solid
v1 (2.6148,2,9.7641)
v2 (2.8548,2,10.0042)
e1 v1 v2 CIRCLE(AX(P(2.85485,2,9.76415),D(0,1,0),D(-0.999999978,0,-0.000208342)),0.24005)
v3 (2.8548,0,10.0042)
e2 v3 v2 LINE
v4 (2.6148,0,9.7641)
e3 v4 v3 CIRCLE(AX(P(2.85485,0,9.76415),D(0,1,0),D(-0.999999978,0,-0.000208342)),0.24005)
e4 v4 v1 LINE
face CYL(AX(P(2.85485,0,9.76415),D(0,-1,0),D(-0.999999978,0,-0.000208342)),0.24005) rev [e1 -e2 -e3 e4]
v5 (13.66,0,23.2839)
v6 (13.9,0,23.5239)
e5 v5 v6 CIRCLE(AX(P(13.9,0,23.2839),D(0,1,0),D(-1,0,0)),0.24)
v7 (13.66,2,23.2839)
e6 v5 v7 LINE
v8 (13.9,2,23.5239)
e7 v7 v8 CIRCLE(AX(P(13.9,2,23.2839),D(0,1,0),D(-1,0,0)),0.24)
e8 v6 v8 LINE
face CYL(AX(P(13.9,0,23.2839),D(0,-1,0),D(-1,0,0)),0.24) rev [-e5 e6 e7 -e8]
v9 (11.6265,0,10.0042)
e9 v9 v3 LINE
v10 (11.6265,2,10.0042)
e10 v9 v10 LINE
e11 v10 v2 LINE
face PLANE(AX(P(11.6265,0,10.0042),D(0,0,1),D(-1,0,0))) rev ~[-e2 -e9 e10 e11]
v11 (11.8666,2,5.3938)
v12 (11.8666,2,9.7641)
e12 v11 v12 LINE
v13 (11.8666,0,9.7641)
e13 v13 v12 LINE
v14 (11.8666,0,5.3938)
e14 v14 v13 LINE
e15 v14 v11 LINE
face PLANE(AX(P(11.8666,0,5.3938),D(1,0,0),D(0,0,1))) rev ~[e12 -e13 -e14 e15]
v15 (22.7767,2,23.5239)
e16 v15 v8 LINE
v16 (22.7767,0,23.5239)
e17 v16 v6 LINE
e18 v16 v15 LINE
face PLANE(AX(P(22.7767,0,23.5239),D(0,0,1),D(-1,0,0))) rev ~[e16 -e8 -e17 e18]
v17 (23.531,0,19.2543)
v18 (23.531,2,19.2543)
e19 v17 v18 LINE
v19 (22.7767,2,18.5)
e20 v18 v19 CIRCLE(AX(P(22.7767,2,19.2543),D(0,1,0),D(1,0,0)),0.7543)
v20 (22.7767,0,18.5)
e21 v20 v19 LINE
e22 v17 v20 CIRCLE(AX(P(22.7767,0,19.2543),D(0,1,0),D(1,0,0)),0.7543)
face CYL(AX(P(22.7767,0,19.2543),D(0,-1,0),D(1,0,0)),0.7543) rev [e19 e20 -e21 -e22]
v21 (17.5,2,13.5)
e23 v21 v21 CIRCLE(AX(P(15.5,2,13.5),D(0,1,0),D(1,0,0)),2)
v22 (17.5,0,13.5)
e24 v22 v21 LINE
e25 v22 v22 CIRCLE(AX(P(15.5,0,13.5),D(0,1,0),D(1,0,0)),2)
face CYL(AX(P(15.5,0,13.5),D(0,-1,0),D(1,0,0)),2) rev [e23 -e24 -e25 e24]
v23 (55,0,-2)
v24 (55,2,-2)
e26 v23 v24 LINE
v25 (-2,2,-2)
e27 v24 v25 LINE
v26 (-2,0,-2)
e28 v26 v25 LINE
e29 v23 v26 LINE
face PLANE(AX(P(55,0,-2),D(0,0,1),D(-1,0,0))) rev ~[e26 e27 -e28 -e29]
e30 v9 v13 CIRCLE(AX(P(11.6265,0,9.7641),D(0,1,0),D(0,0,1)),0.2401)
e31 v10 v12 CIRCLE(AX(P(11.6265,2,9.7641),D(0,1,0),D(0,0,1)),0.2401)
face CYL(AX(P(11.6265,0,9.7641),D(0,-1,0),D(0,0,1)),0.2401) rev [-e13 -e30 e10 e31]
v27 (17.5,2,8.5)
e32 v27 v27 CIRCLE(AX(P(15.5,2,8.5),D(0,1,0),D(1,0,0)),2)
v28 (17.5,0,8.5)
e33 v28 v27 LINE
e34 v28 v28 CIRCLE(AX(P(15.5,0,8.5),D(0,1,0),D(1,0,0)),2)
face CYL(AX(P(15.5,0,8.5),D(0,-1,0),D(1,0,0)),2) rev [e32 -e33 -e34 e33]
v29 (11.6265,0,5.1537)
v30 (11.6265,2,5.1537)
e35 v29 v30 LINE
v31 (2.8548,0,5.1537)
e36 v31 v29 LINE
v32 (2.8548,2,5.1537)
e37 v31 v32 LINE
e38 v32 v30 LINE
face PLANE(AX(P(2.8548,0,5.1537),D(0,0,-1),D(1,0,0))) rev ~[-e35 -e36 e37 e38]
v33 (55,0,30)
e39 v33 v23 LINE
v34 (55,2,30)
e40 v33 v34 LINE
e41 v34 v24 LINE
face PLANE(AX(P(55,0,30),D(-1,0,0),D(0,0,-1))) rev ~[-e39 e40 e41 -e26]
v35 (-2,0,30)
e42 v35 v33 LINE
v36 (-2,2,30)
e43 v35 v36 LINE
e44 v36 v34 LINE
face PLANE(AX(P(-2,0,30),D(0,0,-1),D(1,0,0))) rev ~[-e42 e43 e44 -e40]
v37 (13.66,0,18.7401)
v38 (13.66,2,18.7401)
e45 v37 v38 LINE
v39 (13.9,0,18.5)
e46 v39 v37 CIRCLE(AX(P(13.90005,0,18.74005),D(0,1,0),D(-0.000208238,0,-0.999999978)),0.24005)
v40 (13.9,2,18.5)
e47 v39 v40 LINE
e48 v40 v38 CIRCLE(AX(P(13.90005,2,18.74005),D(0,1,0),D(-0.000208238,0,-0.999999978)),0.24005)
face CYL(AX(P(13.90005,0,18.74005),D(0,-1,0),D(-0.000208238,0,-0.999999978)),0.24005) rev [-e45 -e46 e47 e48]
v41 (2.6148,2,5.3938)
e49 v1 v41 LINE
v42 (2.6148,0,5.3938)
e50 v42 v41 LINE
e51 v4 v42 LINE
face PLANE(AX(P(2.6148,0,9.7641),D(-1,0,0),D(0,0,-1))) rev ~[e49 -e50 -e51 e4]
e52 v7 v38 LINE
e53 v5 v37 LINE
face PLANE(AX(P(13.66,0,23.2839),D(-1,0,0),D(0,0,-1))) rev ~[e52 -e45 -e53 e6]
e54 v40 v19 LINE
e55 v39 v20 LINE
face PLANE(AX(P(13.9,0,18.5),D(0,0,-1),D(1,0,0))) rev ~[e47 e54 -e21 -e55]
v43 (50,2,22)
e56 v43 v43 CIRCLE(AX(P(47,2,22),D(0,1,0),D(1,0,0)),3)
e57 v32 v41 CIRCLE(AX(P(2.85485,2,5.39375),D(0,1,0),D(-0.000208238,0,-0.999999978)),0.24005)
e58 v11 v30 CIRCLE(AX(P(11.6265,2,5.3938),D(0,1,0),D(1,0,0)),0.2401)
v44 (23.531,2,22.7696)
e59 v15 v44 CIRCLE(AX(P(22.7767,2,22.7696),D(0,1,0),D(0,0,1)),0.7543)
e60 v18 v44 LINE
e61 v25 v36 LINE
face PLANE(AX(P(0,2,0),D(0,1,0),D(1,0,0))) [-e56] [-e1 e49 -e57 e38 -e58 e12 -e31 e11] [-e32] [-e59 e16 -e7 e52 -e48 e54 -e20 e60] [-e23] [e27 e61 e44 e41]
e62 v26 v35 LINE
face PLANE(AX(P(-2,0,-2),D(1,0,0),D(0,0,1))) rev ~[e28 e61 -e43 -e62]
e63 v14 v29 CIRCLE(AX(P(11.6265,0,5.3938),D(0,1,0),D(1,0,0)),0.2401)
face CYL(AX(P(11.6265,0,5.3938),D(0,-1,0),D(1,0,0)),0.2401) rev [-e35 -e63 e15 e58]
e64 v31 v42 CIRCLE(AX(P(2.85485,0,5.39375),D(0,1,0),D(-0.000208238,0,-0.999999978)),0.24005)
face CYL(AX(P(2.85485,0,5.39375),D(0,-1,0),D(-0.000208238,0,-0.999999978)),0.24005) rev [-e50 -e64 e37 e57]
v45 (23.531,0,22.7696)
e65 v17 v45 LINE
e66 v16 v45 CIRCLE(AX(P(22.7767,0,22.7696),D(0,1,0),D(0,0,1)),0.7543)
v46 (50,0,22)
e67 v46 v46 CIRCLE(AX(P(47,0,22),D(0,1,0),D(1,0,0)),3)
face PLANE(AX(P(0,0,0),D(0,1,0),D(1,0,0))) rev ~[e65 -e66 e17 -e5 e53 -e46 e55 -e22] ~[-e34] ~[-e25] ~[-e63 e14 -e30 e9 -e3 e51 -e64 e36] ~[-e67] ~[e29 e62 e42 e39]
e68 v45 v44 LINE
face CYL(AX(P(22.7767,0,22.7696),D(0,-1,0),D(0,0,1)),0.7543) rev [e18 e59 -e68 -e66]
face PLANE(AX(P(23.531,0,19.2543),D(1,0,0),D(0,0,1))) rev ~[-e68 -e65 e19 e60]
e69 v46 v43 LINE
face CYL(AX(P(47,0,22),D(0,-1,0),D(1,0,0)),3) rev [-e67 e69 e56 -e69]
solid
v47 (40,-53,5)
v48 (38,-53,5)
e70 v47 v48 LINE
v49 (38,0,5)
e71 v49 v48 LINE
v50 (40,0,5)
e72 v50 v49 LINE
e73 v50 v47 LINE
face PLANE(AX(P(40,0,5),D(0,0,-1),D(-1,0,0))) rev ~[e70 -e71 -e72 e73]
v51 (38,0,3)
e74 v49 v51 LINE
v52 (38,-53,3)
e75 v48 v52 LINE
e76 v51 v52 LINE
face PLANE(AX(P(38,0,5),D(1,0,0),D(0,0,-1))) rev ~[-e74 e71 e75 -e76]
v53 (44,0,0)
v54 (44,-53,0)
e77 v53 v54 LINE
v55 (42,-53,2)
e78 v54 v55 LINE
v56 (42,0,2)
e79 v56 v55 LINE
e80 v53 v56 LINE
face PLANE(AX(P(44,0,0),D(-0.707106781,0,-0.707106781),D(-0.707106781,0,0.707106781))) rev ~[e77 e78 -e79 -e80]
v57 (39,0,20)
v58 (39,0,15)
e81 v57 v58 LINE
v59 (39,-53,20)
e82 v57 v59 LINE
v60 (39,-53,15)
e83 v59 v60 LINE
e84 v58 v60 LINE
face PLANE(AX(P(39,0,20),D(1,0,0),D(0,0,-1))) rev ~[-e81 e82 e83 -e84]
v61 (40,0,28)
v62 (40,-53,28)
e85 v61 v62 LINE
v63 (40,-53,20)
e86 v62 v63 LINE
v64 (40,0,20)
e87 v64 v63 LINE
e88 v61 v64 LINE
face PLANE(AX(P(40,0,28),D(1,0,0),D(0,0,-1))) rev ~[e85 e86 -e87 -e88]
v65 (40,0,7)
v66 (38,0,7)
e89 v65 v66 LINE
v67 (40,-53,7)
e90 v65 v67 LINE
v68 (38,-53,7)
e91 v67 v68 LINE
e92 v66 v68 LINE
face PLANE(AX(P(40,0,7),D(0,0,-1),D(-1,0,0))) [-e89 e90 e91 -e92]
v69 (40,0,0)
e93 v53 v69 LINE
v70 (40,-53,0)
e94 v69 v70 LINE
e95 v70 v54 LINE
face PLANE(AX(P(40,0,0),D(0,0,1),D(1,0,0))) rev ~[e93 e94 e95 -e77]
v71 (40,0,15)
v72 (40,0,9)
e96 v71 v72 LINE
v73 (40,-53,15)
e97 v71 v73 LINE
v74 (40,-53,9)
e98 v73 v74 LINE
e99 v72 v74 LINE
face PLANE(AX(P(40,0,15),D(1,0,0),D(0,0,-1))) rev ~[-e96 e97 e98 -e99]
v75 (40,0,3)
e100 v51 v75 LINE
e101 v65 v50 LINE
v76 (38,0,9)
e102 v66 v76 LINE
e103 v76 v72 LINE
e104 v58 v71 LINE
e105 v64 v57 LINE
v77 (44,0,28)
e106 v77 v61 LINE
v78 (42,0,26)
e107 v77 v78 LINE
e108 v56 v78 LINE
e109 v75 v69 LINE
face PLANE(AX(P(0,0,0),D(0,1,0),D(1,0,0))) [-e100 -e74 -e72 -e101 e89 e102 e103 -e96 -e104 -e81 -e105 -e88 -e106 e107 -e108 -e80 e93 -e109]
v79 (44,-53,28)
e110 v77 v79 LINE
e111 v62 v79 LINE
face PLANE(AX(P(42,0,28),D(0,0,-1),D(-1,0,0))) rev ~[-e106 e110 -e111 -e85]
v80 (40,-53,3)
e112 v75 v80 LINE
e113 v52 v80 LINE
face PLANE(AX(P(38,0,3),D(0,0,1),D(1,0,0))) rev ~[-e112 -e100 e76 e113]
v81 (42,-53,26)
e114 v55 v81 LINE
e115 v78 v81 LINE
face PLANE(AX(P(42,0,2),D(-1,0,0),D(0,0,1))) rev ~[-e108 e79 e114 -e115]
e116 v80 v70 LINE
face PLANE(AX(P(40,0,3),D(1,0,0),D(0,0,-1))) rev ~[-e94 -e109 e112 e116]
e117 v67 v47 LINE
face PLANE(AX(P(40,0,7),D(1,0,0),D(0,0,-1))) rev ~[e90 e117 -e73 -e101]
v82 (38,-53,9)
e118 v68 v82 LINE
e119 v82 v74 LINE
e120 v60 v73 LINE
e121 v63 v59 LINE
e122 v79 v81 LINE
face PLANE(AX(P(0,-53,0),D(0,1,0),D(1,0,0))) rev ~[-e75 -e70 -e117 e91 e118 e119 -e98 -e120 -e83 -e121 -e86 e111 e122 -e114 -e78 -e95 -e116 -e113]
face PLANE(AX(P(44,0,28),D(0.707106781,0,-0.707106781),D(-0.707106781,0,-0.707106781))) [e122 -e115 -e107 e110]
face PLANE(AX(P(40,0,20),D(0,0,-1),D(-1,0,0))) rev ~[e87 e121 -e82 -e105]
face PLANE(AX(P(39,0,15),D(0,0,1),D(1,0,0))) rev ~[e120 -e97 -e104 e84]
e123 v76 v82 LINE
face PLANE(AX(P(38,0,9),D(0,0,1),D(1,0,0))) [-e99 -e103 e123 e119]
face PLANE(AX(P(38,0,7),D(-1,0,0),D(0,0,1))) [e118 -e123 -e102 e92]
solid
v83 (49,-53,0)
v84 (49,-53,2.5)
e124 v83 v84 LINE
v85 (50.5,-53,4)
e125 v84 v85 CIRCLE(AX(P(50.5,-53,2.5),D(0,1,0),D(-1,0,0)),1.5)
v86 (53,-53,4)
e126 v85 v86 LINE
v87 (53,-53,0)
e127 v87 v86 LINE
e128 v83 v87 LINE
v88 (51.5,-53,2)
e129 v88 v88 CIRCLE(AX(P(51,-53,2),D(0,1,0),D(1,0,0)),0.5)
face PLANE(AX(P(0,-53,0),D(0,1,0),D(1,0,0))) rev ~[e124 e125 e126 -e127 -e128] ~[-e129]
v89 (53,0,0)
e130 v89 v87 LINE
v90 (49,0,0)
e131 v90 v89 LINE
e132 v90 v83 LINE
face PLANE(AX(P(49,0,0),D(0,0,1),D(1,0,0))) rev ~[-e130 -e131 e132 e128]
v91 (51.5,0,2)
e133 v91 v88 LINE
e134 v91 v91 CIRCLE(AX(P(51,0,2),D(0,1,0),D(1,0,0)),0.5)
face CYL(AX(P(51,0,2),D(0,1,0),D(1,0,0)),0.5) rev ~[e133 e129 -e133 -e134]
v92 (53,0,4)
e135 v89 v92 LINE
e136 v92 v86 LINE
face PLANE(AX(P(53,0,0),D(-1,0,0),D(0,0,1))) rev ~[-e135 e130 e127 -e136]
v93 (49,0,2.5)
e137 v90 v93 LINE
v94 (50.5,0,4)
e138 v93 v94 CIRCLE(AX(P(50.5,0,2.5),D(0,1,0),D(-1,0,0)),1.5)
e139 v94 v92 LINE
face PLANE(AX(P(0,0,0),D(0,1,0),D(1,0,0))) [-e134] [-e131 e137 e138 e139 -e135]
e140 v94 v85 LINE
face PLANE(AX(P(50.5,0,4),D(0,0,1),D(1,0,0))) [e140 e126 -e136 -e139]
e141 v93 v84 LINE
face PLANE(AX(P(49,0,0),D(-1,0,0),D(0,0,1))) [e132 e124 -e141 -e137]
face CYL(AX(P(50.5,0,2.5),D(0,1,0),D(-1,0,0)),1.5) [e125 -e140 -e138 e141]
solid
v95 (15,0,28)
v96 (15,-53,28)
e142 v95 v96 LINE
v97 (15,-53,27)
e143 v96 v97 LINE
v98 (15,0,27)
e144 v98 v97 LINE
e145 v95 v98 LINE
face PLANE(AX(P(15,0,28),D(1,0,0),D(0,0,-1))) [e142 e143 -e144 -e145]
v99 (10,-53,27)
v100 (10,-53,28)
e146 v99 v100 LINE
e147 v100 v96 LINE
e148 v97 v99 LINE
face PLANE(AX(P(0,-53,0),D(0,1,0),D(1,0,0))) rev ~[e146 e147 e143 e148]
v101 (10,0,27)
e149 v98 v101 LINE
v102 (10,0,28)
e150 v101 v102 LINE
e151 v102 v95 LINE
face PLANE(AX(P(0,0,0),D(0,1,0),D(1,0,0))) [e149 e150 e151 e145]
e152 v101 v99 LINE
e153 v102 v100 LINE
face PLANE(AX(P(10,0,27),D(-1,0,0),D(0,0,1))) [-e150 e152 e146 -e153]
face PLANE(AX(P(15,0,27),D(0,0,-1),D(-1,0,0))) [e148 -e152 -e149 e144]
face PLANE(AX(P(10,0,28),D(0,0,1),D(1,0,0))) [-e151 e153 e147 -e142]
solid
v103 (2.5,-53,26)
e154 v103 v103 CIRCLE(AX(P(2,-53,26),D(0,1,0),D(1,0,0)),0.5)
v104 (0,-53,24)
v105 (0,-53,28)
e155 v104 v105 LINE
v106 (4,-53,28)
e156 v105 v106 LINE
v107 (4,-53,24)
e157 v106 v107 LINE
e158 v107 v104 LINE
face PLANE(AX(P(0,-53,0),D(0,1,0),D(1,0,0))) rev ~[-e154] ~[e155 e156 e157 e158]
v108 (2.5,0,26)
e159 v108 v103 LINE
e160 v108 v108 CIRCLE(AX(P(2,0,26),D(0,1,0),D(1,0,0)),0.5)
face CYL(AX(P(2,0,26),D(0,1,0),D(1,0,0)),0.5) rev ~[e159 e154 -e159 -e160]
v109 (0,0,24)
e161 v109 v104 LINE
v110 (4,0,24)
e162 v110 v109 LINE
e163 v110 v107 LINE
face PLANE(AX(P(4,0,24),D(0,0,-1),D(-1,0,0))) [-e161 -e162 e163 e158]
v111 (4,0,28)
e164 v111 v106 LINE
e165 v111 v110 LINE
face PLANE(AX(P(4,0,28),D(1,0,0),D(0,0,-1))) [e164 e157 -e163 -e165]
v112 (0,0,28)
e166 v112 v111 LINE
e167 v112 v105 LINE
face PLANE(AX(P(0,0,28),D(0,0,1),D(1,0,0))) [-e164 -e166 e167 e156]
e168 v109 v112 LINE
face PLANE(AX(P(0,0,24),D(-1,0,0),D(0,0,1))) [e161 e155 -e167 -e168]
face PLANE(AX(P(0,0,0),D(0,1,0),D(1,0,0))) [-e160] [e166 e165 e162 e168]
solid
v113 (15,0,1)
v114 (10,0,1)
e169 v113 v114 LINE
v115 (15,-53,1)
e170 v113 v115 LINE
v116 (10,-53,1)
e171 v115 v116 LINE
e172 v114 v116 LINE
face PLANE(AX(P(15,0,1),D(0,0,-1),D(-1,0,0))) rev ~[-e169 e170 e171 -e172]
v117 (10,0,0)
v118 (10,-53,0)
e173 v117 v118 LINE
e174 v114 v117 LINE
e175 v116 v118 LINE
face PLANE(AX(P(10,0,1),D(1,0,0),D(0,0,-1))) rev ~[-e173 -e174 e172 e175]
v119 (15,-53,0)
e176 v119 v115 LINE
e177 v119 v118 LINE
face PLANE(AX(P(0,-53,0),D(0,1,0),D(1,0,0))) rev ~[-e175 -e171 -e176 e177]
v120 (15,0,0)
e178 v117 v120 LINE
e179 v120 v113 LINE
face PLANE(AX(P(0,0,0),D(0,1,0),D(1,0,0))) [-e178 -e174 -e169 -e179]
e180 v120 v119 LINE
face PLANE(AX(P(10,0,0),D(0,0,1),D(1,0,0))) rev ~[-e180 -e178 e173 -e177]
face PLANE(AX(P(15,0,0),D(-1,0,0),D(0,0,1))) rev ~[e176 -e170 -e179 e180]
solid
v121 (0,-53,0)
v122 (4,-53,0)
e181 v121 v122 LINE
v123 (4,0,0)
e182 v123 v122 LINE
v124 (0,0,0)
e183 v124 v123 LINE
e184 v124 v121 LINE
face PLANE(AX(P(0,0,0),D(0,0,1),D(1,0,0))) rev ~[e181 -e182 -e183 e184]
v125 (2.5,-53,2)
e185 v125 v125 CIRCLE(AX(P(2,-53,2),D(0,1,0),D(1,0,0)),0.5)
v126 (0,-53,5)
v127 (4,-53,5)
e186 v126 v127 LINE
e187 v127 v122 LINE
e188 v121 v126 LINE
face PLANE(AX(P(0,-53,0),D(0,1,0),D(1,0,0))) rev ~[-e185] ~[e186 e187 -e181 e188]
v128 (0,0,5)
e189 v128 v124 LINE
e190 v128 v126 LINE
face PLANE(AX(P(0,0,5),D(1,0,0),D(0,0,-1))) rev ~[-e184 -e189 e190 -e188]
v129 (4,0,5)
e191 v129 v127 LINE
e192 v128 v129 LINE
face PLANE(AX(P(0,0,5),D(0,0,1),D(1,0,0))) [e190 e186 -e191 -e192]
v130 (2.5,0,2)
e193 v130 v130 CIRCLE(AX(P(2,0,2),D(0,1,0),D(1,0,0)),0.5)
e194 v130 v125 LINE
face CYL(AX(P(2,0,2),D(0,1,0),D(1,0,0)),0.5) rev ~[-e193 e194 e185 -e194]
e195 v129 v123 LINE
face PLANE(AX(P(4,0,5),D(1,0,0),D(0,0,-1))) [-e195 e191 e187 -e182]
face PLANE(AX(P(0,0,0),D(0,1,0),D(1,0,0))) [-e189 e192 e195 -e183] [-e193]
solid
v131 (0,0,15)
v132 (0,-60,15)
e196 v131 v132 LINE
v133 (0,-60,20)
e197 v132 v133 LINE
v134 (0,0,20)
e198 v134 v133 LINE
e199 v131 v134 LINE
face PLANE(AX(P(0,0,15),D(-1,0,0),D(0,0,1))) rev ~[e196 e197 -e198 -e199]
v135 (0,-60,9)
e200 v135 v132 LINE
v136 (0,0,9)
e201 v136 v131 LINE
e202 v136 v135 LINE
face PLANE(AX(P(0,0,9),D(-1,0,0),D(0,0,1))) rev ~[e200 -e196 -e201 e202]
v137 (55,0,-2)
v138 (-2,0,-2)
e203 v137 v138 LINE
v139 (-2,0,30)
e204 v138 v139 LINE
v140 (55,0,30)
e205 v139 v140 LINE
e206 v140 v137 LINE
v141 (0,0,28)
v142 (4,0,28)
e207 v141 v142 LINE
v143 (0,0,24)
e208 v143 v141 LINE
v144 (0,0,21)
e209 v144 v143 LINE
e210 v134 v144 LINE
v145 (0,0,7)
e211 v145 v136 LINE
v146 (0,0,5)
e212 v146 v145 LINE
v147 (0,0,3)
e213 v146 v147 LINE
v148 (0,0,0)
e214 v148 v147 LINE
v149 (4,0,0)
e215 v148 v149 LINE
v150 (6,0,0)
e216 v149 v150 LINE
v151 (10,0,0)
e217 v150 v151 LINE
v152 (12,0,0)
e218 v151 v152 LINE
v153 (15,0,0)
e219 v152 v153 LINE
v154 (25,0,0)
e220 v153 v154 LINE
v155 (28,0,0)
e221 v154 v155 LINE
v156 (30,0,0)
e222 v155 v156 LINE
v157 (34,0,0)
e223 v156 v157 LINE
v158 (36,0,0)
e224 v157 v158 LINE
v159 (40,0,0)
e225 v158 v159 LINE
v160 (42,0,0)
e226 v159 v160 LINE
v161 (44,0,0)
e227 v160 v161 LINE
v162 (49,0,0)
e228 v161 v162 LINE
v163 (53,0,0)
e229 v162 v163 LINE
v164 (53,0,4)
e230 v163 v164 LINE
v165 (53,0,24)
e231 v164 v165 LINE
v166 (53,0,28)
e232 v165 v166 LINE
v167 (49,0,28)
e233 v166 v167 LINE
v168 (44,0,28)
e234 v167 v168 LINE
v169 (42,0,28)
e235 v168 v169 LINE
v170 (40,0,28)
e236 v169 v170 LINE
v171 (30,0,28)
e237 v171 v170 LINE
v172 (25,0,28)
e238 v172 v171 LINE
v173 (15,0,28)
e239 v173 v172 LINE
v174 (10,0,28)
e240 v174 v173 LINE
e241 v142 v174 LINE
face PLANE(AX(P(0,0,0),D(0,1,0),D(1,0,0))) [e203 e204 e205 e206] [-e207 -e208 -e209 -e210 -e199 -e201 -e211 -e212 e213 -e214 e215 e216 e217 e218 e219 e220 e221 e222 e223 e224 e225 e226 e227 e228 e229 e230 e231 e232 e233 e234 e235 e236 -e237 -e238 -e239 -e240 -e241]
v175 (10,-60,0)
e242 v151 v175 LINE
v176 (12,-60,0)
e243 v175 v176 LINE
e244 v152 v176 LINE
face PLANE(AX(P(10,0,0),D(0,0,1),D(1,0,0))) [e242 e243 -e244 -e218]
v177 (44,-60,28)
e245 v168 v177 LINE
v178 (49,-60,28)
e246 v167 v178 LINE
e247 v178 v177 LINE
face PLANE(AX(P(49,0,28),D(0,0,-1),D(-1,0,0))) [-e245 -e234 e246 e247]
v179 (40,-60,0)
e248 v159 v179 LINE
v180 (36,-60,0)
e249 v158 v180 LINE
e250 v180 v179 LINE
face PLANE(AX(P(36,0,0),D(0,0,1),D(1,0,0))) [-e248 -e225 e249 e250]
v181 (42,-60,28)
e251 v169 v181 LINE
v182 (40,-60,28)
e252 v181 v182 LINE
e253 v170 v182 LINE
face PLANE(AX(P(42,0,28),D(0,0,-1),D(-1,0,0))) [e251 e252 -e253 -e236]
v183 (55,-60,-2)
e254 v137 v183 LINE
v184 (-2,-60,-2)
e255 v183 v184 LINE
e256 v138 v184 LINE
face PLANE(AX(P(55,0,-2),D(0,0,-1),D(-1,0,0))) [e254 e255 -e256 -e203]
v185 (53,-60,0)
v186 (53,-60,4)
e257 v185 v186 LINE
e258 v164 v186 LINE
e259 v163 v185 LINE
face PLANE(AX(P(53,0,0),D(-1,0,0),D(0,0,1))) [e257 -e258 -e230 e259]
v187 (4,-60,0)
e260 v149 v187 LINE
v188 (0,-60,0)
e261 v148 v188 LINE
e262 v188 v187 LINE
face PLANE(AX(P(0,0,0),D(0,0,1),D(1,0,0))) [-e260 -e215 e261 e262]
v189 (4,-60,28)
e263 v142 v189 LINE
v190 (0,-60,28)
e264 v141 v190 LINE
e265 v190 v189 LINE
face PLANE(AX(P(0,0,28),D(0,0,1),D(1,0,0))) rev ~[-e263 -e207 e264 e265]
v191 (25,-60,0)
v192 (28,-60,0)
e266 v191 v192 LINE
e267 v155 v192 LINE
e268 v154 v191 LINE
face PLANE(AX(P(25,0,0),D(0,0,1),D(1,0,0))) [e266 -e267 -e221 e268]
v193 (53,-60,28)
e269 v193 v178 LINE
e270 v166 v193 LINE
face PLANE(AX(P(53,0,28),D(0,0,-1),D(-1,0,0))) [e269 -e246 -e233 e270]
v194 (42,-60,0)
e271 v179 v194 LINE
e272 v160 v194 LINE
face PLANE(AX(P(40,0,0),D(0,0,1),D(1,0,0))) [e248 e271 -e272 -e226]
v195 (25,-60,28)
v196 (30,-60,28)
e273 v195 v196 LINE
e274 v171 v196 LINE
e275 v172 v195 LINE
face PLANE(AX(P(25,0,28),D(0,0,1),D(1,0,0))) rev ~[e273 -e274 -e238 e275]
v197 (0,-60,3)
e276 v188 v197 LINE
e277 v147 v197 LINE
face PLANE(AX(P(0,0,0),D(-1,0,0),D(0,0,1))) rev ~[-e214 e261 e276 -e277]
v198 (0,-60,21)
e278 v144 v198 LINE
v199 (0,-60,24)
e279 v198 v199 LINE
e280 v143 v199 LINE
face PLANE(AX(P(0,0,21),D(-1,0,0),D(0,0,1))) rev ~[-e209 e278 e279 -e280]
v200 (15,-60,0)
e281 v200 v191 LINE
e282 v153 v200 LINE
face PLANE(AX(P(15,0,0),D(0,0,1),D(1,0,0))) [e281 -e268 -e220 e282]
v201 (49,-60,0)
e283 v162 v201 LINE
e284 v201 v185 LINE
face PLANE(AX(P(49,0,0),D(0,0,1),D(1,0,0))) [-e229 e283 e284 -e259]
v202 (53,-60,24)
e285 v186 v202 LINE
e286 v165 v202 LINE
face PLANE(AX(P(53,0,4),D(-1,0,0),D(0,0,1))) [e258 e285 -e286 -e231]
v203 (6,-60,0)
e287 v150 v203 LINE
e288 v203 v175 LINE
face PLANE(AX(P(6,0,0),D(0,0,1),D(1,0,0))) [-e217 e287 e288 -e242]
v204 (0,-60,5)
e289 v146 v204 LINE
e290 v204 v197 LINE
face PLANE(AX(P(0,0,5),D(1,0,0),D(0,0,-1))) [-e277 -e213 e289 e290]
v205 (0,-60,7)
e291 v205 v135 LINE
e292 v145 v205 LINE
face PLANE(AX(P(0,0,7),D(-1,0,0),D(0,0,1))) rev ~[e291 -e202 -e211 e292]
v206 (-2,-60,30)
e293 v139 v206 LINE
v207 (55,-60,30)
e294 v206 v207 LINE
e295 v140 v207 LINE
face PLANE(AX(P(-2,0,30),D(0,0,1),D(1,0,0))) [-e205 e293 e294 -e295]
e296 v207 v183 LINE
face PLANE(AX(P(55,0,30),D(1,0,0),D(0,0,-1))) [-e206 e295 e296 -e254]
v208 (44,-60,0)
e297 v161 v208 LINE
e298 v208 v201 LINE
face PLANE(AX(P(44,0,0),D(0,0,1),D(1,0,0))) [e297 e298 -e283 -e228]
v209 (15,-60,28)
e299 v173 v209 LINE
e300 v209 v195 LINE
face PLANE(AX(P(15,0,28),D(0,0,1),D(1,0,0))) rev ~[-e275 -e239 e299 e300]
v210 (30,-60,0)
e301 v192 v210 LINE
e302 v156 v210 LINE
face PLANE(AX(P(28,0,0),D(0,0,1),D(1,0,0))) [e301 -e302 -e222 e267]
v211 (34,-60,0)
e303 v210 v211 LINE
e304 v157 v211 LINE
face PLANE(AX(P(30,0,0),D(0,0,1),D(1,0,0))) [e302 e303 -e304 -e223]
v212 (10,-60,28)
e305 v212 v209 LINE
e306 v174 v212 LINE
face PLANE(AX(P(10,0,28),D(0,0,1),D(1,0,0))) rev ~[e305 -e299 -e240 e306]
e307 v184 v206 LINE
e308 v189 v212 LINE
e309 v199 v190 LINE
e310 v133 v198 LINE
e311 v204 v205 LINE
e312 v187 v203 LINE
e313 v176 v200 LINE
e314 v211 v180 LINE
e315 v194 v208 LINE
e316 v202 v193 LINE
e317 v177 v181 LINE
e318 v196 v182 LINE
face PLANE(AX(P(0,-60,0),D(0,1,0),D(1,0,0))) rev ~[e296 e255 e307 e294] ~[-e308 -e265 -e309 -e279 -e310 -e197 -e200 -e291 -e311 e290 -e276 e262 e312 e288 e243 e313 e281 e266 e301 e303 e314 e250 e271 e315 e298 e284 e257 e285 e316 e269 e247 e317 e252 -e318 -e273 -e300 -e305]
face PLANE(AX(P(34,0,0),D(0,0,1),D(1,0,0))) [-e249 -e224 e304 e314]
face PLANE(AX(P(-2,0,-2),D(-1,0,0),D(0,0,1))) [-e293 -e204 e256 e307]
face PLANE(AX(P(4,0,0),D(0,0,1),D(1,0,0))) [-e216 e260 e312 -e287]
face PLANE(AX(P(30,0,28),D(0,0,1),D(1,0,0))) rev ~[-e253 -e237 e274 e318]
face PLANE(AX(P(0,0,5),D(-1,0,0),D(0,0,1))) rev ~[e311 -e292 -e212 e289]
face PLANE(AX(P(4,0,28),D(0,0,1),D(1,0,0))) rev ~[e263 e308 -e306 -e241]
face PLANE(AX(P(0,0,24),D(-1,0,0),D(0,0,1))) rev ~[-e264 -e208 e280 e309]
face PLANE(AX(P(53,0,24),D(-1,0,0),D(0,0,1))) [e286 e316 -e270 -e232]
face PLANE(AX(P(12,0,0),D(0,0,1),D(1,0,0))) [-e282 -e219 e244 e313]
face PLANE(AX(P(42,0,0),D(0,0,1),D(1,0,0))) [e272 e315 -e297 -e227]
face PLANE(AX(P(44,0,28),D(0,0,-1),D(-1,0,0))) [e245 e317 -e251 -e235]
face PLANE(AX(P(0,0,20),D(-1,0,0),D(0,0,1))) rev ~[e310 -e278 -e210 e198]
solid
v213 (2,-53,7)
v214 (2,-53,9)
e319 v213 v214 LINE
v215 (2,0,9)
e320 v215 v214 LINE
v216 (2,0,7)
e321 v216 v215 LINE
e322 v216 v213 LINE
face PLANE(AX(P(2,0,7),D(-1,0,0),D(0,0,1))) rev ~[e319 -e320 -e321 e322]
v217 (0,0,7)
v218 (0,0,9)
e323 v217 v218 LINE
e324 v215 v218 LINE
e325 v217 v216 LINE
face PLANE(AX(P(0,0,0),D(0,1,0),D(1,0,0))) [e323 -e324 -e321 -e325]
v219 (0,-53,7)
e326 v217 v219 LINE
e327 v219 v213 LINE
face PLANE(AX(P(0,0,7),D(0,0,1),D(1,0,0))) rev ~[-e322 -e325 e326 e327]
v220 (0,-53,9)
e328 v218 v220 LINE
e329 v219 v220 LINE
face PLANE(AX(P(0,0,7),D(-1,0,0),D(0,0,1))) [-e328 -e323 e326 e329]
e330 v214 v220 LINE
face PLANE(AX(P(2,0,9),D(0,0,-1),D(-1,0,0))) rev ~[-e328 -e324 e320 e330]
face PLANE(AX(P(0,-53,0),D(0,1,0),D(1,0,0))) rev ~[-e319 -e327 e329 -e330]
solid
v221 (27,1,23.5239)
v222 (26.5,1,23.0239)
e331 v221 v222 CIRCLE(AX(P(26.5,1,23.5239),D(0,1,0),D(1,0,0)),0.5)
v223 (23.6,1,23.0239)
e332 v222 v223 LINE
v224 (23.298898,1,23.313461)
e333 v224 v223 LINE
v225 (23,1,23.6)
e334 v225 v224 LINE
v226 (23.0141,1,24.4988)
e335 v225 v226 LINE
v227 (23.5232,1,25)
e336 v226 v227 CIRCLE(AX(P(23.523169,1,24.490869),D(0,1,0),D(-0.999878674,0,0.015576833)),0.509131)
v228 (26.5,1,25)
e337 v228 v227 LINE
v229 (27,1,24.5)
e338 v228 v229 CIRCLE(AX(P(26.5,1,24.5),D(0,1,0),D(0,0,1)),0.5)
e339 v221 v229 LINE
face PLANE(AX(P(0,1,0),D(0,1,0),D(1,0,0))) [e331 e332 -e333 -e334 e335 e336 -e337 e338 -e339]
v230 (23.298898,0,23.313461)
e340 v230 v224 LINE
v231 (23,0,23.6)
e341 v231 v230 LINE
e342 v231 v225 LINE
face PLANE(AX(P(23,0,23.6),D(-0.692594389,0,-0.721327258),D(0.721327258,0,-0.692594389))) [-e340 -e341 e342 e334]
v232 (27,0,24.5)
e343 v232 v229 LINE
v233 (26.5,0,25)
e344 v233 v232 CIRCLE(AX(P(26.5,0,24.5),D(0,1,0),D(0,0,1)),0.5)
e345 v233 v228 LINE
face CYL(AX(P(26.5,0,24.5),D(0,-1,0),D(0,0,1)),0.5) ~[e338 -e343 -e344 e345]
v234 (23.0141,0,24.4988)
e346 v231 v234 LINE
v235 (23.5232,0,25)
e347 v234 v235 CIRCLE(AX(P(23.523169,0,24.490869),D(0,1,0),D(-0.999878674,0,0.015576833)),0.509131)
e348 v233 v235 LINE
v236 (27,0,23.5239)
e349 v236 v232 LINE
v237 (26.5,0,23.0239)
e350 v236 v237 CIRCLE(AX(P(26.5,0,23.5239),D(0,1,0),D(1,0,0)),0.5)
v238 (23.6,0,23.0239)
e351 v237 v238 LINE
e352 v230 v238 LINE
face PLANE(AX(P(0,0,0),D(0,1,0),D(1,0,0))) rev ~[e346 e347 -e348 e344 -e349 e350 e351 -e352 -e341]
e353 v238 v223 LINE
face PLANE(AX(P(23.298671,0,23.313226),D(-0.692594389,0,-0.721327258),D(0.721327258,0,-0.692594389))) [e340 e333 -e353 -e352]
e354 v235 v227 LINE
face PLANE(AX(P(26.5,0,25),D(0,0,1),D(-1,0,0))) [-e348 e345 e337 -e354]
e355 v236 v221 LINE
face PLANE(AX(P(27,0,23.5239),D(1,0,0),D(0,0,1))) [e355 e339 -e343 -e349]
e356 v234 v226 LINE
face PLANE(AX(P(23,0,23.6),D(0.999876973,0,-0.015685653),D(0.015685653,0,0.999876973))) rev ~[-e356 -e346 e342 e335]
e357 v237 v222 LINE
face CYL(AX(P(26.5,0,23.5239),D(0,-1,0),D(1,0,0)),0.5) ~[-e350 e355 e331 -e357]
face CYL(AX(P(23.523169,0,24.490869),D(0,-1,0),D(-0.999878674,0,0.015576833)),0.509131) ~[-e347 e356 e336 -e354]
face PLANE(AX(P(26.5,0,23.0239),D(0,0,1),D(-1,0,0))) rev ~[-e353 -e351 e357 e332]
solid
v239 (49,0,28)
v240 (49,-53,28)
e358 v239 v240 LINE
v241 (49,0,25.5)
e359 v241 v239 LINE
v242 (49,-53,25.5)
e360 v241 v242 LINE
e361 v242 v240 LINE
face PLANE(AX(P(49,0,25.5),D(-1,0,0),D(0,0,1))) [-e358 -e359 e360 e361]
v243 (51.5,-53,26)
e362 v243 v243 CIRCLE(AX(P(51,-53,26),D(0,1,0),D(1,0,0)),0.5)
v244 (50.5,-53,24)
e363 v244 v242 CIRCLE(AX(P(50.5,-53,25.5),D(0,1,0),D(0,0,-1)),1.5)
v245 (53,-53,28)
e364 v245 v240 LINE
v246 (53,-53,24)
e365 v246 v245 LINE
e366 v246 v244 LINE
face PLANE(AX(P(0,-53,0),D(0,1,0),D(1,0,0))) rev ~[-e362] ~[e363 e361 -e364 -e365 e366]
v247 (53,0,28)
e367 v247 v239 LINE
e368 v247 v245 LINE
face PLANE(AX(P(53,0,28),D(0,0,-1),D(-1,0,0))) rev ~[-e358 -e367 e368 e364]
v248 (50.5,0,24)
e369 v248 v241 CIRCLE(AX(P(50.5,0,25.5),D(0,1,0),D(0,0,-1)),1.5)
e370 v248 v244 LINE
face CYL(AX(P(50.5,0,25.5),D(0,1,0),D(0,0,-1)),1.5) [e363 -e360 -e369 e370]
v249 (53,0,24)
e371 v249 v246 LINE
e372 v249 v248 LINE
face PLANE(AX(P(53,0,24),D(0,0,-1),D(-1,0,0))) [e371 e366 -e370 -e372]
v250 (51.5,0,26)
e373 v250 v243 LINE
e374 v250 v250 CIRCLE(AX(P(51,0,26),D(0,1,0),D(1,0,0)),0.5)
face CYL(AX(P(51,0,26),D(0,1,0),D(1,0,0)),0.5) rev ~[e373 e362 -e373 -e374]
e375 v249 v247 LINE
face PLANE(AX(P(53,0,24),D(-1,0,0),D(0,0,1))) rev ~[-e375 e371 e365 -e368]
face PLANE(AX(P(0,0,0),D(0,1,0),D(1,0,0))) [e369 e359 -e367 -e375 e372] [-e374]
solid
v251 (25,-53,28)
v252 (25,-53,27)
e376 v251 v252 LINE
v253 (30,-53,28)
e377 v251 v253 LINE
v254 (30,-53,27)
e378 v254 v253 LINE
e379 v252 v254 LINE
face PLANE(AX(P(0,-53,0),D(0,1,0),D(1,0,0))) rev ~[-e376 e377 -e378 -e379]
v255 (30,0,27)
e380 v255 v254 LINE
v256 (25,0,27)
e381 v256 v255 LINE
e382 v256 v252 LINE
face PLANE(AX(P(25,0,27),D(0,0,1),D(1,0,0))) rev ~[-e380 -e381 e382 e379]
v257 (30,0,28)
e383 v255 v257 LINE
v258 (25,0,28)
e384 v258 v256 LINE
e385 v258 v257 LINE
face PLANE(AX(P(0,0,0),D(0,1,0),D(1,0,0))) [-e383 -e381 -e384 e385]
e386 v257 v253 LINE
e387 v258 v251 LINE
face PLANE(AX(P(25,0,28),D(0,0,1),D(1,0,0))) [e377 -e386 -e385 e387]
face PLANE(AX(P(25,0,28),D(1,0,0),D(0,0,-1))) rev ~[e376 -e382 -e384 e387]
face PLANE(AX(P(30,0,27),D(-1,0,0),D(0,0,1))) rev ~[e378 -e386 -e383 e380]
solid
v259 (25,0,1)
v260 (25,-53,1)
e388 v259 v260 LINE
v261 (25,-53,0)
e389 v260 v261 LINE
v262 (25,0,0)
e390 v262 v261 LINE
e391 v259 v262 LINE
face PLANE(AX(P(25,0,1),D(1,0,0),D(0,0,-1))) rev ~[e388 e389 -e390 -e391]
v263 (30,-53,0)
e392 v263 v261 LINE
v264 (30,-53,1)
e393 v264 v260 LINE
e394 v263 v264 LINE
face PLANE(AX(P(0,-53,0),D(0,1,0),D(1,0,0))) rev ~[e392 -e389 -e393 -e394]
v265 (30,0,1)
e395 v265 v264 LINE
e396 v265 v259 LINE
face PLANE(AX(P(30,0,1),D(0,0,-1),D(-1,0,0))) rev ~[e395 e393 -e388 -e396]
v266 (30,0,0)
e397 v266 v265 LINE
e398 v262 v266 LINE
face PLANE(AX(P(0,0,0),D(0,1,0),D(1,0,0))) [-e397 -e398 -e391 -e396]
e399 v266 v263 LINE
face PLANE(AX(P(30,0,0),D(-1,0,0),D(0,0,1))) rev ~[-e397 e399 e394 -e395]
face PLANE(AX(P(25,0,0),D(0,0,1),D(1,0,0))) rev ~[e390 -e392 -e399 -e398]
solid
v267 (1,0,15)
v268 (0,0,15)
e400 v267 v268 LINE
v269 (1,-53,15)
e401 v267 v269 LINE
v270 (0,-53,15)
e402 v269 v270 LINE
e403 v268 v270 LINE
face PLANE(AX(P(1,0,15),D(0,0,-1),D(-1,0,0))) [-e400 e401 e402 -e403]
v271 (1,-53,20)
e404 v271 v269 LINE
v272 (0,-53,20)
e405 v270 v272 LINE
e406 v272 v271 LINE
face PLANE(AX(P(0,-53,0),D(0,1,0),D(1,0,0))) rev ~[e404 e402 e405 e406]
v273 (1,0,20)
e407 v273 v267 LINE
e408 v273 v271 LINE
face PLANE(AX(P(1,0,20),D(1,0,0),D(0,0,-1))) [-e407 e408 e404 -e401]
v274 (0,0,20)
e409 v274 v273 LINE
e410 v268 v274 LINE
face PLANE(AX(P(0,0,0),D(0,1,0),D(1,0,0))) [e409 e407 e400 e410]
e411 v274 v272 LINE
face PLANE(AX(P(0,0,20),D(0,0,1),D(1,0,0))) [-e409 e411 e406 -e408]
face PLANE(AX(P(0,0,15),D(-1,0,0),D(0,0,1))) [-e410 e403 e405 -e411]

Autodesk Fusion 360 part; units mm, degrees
sketch "Esquisse1" plane through (0, 0, 0) normal (0, 1, 0) x (1, 0, 0)
  line L0 (0, -28) -> (40, -28)
  line L1 (40, -28) -> (40, 0)
  line L2 (40, 0) -> (42, 0)
  line L3 (42, 0) -> (42, -28)
  line L4 (42, -28) -> (40, -28)
  line L5 (40, -28) -> (40, 0)
  line L6 (42, 0) -> (53, 0)
  line L7 (53, 0) -> (53, -28)
  line L8 (53, -28) -> (42, -28)
  line L9 (42, -28) -> (42, 0)
  line L10 (12, 0) -> (15, 0)
  line L11 (25, 0) -> (28, 0)
  line L12 (10, -28) -> (15, -28)
  line L13 (15, -28) -> (15, -27)
  line L14 (15, -27) -> (10, -27)
  line L15 (10, -27) -> (10, -28)
  line L16 (30, -28) -> (25, -28)
  line L17 (25, -28) -> (25, -27)
  line L18 (25, -27) -> (30, -27)
  line L19 (30, -27) -> (30, -28)
  line L20 (0, -5) -> (0, -3)
  line L21 (40, -5) -> (40, -3)
  line L22 (40, -7) -> (38, -7)
  line L23 (38, -7) -> (38, -9)
  line L24 (38, -9) -> (40, -9)
  line L25 (40, -9) -> (40, -7)
  line L26 (2.8548, -5.1537) -> (11.6265, -5.1537)
  line L27 (11.8666, -5.3938) -> (11.8666, -9.7641)
  line L28 (11.6265, -10.0042) -> (2.8548, -10.0042)
  line L29 (2.6148, -9.7641) -> (2.6148, -5.3938)
  circle A0 centre (15.5, -8.5) radius 2
  circle A1 centre (15.5, -13.5) radius 2
  line L30 (0, 0) -> (40, 0)
  line L31 (0, 0) -> (0, -28)
  line L32 (0, -7) -> (2, -7)
  line L33 (2, -7) -> (2, -9)
  line L34 (2, -9) -> (0, -9)
  line L35 (0, -9) -> (0, -7)
  line L36 (-2, -30) -> (55, -30)
  line L37 (55, -30) -> (55, 2)
  line L38 (55, 2) -> (-2, 2)
  line L39 (-2, 2) -> (-2, -30)
  line L40 (0, 0) -> (15, 0)
  line L41 (13.9, -18.5) -> (22.7767, -18.5)
  line L42 (23.531, -19.2543) -> (23.531, -22.7696)
  line L43 (22.7767, -23.5239) -> (13.9, -23.5239)
  line L44 (13.66, -23.2839) -> (13.66, -18.7401)
  line L45 (0, -20) -> (1, -20)
  line L46 (1, -20) -> (1, -15)
  line L47 (1, -15) -> (0, -15)
  line L48 (0, -15) -> (0, -20)
  line L49 (40, -16) -> (40, -20)
  line L50 (44, -28) -> (42, -26)
  line L51 (44, 0) -> (42, -2)
  line L52 (10, 0) -> (15, 0)
  line L53 (15, 0) -> (15, -1)
  line L54 (15, -1) -> (10, -1)
  line L55 (10, -1) -> (10, 0)
  line L56 (25, 0) -> (30, 0)
  line L57 (30, 0) -> (30, -1)
  line L58 (30, -1) -> (25, -1)
  line L59 (25, -1) -> (25, 0)
  line L60 (40, -20) -> (39, -20)
  line L61 (39, -20) -> (39, -15)
  line L62 (39, -15) -> (40, -15)
  line L63 (40, -15) -> (40, -20)
  line L64 (0, -21) -> (0, 0)
  line L65 (27, -23.5239) -> (27, -24.5)
  line L66 (26.5, -25) -> (23.5232, -25)
  arc A2 (11.6265, -10.0042) -> (11.8666, -9.7641) centre (11.6265, -9.7641) ccw
  arc A3 (2.6148, -9.7641) -> (2.8548, -10.0042) centre (2.8548, -9.7641) ccw
  arc A4 (2.8548, -5.1537) -> (2.6148, -5.3938) centre (2.8548, -5.3938) ccw
  arc A5 (11.8666, -5.3938) -> (11.6265, -5.1537) centre (11.6265, -5.3938) ccw
  arc A6 (13.9, -18.5) -> (13.66, -18.7401) centre (13.9, -18.7401) ccw
  arc A7 (13.66, -23.2839) -> (13.9, -23.5239) centre (13.9, -23.2839) ccw
  arc A8 (23.531, -19.2543) -> (22.7767, -18.5) centre (22.7767, -19.2543) ccw
  arc A9 (22.7767, -23.5239) -> (23.531, -22.7696) centre (22.7767, -22.7696) ccw
  line L67 (26.5, -23.0239) -> (23.6, -23.0239)
  line L68 (23, -23.6) -> (23.0141, -24.4988)
  arc A10 (27, -23.5239) -> (26.5, -23.0239) centre (26.5, -23.5239) ccw
  arc A11 (26.5, -25) -> (27, -24.5) centre (26.5, -24.5) ccw
  arc A12 (23.0141, -24.4988) -> (23.5232, -25) centre (23.5232, -24.4909) ccw
  line L69 (6, 0) -> (0, 0)
  line L70 (0, 0) -> (0, -3)
  line L71 (40, -3) -> (40, 0)
  line L72 (40, 0) -> (34, 0)
  line L73 (0, -28) -> (4, -28)
  line L74 (4, -28) -> (4, -24)
  line L75 (4, -24) -> (0, -24)
  line L76 (0, -24) -> (0, -28)
  line L77 (49, -28) -> (53, -28)
  line L78 (53, -28) -> (53, -24)
  line L79 (53, -24) -> (50.5, -24)
  line L80 (49, -25.5) -> (49, -28)
  line L81 (53, 0) -> (49, 0)
  line L82 (49, 0) -> (49, -2.5)
  line L83 (50.5, -4) -> (53, -4)
  line L84 (53, -4) -> (53, 0)
  line L85 (0, -5) -> (4, -5)
  line L86 (4, -5) -> (4, 0)
  line L87 (4, 0) -> (0, 0)
  line L88 (0, 0) -> (0, -5)
  line L89 (36, 0) -> (40, 0)
  line L90 (40, 0) -> (40, -5)
  line L91 (40, -5) -> (38, -5)
  line L92 (38, -5) -> (38, -3)
  line L93 (38, -3) -> (40, -3)
  line L94 (40, -3) -> (40, -5)
  circle A13 centre (2, -26) radius 0.5
  circle A14 centre (2, -2) radius 0.5
  circle A15 centre (51, -2) radius 0.5
  circle A16 centre (51, -26) radius 0.5
  arc A17 (50.5, -24) -> (49, -25.5) centre (50.5, -25.5) ccw
  arc A18 (49, -2.5) -> (50.5, -4) centre (50.5, -2.5) ccw
  circle A19 centre (47, -22) radius 3
  line L95 (23, -23.6) -> (23.6, -23.0239)
  dimension "d131" = 1
  dimension "d132" = 1
  dimension "d133" = 1
  dimension "d134" = 1
  dimension "d136" = 1.5
  dimension "d160" = 6
extrude "Extrusion35" add sketch "Esquisse1" along normal blind 2 contours L0 L31 L73 L74 L75 L76 | L0 L1 L5 L13 L14 L15 L17 L18 L19 L22 L23 L24 L30 L31 L32 L33 L34 L40 L45 L46 L47 L53 L54 L55 L57 L58 L59 L60 L61 L62 L64 L69 L71 L72 L74 L75 L85 L86 L89 L90 L91 L92 L93 | L0 L12 L13 L14 L15 | L31 L45 L46 L47 L48 L64 | L0 L16 L17 L18 L19 | L31 L32 L33 L34 L35 L64 | L1 L2 L3 L4 L5 L9 L21 L25 L49 L63 L71 L90 L94 | L1 L5 L49 L60 L61 L62 L63 | L3 L8 L9 L50 | L20 L30 L31 L40 L64 L69 L70 L85 L86 L87 L88 | L3 L6 L7 L8 L9 L50 L51 L79 L80 L82 L83 A17 A18 | L3 L6 L9 L51 | L7 L8 L77 L78 L79 L80 A17 | L1 L5 L22 L23 L24 L25 | L6 L7 L81 L82 L83 L84 A18 | L10 L30 L40 L52 L53 L54 L55 | L1 L5 L21 L90 L91 L92 L93 L94 | L11 L30 L56 L57 L58 L59 | L36 L37 L38 L39 | L65 L66 L67 L68 A10 A11 A12 L95 | A13 | A14 | A15 | A16 makes body 1
extrude "Extrusion36" add sketch "Esquisse1" against normal blind 53 separate body contours L0 L31 L73 L74 L75 L76 | L0 L12 L13 L14 L15 | L31 L45 L46 L47 L48 L64 | L0 L16 L17 L18 L19 | L31 L32 L33 L34 L35 L64 | L1 L2 L3 L4 L5 L9 L21 L25 L49 L63 L71 L90 L94 | L1 L5 L49 L60 L61 L62 L63 | L3 L8 L9 L50 | L20 L30 L31 L40 L64 L69 L70 L85 L86 L87 L88 | L3 L6 L9 L51 | L7 L8 L77 L78 L79 L80 A17 | L1 L5 L22 L23 L24 L25 | L6 L7 L81 L82 L83 L84 A18 | L10 L30 L40 L52 L53 L54 L55 | L1 L5 L21 L90 L91 L92 L93 L94 | L11 L30 L56 L57 L58 L59 makes body 2 at (13.3333, -17.6667, 27) makes body 3 at (11.6667, -17.6667, 0) makes body 4 at (2.6667, -35.3333, 24) makes body 5 at (0, -17.6667, 3.3333) makes body 6 at (26.6667, -17.6667, 27) makes body 7 at (53, -17.6667, 25.3333) makes body 8 at (28.3333, -17.6667, 1) makes body 9 at (0, -17.6667, 16.6667) makes body 10 at (0, -17.6667, 7.6667) makes body 11 at (42, -35.3333, 18) makes body 12 at (53, -17.6667, 1.3333)
extrude "Extrusion37" add sketch "Esquisse1" against normal blind 60 separate body contours L36 L37 L38 L39 makes body 13
extrude "Extrusion38" add sketch "Esquisse1" along normal blind 1 separate body contours L65 L66 L67 L68 A10 A11 A12 L95 makes body 14
extrude "Extrusion1" [suppressed]
extrude "Extrusion2" [suppressed]
extrude "Extrusion3" [suppressed]
